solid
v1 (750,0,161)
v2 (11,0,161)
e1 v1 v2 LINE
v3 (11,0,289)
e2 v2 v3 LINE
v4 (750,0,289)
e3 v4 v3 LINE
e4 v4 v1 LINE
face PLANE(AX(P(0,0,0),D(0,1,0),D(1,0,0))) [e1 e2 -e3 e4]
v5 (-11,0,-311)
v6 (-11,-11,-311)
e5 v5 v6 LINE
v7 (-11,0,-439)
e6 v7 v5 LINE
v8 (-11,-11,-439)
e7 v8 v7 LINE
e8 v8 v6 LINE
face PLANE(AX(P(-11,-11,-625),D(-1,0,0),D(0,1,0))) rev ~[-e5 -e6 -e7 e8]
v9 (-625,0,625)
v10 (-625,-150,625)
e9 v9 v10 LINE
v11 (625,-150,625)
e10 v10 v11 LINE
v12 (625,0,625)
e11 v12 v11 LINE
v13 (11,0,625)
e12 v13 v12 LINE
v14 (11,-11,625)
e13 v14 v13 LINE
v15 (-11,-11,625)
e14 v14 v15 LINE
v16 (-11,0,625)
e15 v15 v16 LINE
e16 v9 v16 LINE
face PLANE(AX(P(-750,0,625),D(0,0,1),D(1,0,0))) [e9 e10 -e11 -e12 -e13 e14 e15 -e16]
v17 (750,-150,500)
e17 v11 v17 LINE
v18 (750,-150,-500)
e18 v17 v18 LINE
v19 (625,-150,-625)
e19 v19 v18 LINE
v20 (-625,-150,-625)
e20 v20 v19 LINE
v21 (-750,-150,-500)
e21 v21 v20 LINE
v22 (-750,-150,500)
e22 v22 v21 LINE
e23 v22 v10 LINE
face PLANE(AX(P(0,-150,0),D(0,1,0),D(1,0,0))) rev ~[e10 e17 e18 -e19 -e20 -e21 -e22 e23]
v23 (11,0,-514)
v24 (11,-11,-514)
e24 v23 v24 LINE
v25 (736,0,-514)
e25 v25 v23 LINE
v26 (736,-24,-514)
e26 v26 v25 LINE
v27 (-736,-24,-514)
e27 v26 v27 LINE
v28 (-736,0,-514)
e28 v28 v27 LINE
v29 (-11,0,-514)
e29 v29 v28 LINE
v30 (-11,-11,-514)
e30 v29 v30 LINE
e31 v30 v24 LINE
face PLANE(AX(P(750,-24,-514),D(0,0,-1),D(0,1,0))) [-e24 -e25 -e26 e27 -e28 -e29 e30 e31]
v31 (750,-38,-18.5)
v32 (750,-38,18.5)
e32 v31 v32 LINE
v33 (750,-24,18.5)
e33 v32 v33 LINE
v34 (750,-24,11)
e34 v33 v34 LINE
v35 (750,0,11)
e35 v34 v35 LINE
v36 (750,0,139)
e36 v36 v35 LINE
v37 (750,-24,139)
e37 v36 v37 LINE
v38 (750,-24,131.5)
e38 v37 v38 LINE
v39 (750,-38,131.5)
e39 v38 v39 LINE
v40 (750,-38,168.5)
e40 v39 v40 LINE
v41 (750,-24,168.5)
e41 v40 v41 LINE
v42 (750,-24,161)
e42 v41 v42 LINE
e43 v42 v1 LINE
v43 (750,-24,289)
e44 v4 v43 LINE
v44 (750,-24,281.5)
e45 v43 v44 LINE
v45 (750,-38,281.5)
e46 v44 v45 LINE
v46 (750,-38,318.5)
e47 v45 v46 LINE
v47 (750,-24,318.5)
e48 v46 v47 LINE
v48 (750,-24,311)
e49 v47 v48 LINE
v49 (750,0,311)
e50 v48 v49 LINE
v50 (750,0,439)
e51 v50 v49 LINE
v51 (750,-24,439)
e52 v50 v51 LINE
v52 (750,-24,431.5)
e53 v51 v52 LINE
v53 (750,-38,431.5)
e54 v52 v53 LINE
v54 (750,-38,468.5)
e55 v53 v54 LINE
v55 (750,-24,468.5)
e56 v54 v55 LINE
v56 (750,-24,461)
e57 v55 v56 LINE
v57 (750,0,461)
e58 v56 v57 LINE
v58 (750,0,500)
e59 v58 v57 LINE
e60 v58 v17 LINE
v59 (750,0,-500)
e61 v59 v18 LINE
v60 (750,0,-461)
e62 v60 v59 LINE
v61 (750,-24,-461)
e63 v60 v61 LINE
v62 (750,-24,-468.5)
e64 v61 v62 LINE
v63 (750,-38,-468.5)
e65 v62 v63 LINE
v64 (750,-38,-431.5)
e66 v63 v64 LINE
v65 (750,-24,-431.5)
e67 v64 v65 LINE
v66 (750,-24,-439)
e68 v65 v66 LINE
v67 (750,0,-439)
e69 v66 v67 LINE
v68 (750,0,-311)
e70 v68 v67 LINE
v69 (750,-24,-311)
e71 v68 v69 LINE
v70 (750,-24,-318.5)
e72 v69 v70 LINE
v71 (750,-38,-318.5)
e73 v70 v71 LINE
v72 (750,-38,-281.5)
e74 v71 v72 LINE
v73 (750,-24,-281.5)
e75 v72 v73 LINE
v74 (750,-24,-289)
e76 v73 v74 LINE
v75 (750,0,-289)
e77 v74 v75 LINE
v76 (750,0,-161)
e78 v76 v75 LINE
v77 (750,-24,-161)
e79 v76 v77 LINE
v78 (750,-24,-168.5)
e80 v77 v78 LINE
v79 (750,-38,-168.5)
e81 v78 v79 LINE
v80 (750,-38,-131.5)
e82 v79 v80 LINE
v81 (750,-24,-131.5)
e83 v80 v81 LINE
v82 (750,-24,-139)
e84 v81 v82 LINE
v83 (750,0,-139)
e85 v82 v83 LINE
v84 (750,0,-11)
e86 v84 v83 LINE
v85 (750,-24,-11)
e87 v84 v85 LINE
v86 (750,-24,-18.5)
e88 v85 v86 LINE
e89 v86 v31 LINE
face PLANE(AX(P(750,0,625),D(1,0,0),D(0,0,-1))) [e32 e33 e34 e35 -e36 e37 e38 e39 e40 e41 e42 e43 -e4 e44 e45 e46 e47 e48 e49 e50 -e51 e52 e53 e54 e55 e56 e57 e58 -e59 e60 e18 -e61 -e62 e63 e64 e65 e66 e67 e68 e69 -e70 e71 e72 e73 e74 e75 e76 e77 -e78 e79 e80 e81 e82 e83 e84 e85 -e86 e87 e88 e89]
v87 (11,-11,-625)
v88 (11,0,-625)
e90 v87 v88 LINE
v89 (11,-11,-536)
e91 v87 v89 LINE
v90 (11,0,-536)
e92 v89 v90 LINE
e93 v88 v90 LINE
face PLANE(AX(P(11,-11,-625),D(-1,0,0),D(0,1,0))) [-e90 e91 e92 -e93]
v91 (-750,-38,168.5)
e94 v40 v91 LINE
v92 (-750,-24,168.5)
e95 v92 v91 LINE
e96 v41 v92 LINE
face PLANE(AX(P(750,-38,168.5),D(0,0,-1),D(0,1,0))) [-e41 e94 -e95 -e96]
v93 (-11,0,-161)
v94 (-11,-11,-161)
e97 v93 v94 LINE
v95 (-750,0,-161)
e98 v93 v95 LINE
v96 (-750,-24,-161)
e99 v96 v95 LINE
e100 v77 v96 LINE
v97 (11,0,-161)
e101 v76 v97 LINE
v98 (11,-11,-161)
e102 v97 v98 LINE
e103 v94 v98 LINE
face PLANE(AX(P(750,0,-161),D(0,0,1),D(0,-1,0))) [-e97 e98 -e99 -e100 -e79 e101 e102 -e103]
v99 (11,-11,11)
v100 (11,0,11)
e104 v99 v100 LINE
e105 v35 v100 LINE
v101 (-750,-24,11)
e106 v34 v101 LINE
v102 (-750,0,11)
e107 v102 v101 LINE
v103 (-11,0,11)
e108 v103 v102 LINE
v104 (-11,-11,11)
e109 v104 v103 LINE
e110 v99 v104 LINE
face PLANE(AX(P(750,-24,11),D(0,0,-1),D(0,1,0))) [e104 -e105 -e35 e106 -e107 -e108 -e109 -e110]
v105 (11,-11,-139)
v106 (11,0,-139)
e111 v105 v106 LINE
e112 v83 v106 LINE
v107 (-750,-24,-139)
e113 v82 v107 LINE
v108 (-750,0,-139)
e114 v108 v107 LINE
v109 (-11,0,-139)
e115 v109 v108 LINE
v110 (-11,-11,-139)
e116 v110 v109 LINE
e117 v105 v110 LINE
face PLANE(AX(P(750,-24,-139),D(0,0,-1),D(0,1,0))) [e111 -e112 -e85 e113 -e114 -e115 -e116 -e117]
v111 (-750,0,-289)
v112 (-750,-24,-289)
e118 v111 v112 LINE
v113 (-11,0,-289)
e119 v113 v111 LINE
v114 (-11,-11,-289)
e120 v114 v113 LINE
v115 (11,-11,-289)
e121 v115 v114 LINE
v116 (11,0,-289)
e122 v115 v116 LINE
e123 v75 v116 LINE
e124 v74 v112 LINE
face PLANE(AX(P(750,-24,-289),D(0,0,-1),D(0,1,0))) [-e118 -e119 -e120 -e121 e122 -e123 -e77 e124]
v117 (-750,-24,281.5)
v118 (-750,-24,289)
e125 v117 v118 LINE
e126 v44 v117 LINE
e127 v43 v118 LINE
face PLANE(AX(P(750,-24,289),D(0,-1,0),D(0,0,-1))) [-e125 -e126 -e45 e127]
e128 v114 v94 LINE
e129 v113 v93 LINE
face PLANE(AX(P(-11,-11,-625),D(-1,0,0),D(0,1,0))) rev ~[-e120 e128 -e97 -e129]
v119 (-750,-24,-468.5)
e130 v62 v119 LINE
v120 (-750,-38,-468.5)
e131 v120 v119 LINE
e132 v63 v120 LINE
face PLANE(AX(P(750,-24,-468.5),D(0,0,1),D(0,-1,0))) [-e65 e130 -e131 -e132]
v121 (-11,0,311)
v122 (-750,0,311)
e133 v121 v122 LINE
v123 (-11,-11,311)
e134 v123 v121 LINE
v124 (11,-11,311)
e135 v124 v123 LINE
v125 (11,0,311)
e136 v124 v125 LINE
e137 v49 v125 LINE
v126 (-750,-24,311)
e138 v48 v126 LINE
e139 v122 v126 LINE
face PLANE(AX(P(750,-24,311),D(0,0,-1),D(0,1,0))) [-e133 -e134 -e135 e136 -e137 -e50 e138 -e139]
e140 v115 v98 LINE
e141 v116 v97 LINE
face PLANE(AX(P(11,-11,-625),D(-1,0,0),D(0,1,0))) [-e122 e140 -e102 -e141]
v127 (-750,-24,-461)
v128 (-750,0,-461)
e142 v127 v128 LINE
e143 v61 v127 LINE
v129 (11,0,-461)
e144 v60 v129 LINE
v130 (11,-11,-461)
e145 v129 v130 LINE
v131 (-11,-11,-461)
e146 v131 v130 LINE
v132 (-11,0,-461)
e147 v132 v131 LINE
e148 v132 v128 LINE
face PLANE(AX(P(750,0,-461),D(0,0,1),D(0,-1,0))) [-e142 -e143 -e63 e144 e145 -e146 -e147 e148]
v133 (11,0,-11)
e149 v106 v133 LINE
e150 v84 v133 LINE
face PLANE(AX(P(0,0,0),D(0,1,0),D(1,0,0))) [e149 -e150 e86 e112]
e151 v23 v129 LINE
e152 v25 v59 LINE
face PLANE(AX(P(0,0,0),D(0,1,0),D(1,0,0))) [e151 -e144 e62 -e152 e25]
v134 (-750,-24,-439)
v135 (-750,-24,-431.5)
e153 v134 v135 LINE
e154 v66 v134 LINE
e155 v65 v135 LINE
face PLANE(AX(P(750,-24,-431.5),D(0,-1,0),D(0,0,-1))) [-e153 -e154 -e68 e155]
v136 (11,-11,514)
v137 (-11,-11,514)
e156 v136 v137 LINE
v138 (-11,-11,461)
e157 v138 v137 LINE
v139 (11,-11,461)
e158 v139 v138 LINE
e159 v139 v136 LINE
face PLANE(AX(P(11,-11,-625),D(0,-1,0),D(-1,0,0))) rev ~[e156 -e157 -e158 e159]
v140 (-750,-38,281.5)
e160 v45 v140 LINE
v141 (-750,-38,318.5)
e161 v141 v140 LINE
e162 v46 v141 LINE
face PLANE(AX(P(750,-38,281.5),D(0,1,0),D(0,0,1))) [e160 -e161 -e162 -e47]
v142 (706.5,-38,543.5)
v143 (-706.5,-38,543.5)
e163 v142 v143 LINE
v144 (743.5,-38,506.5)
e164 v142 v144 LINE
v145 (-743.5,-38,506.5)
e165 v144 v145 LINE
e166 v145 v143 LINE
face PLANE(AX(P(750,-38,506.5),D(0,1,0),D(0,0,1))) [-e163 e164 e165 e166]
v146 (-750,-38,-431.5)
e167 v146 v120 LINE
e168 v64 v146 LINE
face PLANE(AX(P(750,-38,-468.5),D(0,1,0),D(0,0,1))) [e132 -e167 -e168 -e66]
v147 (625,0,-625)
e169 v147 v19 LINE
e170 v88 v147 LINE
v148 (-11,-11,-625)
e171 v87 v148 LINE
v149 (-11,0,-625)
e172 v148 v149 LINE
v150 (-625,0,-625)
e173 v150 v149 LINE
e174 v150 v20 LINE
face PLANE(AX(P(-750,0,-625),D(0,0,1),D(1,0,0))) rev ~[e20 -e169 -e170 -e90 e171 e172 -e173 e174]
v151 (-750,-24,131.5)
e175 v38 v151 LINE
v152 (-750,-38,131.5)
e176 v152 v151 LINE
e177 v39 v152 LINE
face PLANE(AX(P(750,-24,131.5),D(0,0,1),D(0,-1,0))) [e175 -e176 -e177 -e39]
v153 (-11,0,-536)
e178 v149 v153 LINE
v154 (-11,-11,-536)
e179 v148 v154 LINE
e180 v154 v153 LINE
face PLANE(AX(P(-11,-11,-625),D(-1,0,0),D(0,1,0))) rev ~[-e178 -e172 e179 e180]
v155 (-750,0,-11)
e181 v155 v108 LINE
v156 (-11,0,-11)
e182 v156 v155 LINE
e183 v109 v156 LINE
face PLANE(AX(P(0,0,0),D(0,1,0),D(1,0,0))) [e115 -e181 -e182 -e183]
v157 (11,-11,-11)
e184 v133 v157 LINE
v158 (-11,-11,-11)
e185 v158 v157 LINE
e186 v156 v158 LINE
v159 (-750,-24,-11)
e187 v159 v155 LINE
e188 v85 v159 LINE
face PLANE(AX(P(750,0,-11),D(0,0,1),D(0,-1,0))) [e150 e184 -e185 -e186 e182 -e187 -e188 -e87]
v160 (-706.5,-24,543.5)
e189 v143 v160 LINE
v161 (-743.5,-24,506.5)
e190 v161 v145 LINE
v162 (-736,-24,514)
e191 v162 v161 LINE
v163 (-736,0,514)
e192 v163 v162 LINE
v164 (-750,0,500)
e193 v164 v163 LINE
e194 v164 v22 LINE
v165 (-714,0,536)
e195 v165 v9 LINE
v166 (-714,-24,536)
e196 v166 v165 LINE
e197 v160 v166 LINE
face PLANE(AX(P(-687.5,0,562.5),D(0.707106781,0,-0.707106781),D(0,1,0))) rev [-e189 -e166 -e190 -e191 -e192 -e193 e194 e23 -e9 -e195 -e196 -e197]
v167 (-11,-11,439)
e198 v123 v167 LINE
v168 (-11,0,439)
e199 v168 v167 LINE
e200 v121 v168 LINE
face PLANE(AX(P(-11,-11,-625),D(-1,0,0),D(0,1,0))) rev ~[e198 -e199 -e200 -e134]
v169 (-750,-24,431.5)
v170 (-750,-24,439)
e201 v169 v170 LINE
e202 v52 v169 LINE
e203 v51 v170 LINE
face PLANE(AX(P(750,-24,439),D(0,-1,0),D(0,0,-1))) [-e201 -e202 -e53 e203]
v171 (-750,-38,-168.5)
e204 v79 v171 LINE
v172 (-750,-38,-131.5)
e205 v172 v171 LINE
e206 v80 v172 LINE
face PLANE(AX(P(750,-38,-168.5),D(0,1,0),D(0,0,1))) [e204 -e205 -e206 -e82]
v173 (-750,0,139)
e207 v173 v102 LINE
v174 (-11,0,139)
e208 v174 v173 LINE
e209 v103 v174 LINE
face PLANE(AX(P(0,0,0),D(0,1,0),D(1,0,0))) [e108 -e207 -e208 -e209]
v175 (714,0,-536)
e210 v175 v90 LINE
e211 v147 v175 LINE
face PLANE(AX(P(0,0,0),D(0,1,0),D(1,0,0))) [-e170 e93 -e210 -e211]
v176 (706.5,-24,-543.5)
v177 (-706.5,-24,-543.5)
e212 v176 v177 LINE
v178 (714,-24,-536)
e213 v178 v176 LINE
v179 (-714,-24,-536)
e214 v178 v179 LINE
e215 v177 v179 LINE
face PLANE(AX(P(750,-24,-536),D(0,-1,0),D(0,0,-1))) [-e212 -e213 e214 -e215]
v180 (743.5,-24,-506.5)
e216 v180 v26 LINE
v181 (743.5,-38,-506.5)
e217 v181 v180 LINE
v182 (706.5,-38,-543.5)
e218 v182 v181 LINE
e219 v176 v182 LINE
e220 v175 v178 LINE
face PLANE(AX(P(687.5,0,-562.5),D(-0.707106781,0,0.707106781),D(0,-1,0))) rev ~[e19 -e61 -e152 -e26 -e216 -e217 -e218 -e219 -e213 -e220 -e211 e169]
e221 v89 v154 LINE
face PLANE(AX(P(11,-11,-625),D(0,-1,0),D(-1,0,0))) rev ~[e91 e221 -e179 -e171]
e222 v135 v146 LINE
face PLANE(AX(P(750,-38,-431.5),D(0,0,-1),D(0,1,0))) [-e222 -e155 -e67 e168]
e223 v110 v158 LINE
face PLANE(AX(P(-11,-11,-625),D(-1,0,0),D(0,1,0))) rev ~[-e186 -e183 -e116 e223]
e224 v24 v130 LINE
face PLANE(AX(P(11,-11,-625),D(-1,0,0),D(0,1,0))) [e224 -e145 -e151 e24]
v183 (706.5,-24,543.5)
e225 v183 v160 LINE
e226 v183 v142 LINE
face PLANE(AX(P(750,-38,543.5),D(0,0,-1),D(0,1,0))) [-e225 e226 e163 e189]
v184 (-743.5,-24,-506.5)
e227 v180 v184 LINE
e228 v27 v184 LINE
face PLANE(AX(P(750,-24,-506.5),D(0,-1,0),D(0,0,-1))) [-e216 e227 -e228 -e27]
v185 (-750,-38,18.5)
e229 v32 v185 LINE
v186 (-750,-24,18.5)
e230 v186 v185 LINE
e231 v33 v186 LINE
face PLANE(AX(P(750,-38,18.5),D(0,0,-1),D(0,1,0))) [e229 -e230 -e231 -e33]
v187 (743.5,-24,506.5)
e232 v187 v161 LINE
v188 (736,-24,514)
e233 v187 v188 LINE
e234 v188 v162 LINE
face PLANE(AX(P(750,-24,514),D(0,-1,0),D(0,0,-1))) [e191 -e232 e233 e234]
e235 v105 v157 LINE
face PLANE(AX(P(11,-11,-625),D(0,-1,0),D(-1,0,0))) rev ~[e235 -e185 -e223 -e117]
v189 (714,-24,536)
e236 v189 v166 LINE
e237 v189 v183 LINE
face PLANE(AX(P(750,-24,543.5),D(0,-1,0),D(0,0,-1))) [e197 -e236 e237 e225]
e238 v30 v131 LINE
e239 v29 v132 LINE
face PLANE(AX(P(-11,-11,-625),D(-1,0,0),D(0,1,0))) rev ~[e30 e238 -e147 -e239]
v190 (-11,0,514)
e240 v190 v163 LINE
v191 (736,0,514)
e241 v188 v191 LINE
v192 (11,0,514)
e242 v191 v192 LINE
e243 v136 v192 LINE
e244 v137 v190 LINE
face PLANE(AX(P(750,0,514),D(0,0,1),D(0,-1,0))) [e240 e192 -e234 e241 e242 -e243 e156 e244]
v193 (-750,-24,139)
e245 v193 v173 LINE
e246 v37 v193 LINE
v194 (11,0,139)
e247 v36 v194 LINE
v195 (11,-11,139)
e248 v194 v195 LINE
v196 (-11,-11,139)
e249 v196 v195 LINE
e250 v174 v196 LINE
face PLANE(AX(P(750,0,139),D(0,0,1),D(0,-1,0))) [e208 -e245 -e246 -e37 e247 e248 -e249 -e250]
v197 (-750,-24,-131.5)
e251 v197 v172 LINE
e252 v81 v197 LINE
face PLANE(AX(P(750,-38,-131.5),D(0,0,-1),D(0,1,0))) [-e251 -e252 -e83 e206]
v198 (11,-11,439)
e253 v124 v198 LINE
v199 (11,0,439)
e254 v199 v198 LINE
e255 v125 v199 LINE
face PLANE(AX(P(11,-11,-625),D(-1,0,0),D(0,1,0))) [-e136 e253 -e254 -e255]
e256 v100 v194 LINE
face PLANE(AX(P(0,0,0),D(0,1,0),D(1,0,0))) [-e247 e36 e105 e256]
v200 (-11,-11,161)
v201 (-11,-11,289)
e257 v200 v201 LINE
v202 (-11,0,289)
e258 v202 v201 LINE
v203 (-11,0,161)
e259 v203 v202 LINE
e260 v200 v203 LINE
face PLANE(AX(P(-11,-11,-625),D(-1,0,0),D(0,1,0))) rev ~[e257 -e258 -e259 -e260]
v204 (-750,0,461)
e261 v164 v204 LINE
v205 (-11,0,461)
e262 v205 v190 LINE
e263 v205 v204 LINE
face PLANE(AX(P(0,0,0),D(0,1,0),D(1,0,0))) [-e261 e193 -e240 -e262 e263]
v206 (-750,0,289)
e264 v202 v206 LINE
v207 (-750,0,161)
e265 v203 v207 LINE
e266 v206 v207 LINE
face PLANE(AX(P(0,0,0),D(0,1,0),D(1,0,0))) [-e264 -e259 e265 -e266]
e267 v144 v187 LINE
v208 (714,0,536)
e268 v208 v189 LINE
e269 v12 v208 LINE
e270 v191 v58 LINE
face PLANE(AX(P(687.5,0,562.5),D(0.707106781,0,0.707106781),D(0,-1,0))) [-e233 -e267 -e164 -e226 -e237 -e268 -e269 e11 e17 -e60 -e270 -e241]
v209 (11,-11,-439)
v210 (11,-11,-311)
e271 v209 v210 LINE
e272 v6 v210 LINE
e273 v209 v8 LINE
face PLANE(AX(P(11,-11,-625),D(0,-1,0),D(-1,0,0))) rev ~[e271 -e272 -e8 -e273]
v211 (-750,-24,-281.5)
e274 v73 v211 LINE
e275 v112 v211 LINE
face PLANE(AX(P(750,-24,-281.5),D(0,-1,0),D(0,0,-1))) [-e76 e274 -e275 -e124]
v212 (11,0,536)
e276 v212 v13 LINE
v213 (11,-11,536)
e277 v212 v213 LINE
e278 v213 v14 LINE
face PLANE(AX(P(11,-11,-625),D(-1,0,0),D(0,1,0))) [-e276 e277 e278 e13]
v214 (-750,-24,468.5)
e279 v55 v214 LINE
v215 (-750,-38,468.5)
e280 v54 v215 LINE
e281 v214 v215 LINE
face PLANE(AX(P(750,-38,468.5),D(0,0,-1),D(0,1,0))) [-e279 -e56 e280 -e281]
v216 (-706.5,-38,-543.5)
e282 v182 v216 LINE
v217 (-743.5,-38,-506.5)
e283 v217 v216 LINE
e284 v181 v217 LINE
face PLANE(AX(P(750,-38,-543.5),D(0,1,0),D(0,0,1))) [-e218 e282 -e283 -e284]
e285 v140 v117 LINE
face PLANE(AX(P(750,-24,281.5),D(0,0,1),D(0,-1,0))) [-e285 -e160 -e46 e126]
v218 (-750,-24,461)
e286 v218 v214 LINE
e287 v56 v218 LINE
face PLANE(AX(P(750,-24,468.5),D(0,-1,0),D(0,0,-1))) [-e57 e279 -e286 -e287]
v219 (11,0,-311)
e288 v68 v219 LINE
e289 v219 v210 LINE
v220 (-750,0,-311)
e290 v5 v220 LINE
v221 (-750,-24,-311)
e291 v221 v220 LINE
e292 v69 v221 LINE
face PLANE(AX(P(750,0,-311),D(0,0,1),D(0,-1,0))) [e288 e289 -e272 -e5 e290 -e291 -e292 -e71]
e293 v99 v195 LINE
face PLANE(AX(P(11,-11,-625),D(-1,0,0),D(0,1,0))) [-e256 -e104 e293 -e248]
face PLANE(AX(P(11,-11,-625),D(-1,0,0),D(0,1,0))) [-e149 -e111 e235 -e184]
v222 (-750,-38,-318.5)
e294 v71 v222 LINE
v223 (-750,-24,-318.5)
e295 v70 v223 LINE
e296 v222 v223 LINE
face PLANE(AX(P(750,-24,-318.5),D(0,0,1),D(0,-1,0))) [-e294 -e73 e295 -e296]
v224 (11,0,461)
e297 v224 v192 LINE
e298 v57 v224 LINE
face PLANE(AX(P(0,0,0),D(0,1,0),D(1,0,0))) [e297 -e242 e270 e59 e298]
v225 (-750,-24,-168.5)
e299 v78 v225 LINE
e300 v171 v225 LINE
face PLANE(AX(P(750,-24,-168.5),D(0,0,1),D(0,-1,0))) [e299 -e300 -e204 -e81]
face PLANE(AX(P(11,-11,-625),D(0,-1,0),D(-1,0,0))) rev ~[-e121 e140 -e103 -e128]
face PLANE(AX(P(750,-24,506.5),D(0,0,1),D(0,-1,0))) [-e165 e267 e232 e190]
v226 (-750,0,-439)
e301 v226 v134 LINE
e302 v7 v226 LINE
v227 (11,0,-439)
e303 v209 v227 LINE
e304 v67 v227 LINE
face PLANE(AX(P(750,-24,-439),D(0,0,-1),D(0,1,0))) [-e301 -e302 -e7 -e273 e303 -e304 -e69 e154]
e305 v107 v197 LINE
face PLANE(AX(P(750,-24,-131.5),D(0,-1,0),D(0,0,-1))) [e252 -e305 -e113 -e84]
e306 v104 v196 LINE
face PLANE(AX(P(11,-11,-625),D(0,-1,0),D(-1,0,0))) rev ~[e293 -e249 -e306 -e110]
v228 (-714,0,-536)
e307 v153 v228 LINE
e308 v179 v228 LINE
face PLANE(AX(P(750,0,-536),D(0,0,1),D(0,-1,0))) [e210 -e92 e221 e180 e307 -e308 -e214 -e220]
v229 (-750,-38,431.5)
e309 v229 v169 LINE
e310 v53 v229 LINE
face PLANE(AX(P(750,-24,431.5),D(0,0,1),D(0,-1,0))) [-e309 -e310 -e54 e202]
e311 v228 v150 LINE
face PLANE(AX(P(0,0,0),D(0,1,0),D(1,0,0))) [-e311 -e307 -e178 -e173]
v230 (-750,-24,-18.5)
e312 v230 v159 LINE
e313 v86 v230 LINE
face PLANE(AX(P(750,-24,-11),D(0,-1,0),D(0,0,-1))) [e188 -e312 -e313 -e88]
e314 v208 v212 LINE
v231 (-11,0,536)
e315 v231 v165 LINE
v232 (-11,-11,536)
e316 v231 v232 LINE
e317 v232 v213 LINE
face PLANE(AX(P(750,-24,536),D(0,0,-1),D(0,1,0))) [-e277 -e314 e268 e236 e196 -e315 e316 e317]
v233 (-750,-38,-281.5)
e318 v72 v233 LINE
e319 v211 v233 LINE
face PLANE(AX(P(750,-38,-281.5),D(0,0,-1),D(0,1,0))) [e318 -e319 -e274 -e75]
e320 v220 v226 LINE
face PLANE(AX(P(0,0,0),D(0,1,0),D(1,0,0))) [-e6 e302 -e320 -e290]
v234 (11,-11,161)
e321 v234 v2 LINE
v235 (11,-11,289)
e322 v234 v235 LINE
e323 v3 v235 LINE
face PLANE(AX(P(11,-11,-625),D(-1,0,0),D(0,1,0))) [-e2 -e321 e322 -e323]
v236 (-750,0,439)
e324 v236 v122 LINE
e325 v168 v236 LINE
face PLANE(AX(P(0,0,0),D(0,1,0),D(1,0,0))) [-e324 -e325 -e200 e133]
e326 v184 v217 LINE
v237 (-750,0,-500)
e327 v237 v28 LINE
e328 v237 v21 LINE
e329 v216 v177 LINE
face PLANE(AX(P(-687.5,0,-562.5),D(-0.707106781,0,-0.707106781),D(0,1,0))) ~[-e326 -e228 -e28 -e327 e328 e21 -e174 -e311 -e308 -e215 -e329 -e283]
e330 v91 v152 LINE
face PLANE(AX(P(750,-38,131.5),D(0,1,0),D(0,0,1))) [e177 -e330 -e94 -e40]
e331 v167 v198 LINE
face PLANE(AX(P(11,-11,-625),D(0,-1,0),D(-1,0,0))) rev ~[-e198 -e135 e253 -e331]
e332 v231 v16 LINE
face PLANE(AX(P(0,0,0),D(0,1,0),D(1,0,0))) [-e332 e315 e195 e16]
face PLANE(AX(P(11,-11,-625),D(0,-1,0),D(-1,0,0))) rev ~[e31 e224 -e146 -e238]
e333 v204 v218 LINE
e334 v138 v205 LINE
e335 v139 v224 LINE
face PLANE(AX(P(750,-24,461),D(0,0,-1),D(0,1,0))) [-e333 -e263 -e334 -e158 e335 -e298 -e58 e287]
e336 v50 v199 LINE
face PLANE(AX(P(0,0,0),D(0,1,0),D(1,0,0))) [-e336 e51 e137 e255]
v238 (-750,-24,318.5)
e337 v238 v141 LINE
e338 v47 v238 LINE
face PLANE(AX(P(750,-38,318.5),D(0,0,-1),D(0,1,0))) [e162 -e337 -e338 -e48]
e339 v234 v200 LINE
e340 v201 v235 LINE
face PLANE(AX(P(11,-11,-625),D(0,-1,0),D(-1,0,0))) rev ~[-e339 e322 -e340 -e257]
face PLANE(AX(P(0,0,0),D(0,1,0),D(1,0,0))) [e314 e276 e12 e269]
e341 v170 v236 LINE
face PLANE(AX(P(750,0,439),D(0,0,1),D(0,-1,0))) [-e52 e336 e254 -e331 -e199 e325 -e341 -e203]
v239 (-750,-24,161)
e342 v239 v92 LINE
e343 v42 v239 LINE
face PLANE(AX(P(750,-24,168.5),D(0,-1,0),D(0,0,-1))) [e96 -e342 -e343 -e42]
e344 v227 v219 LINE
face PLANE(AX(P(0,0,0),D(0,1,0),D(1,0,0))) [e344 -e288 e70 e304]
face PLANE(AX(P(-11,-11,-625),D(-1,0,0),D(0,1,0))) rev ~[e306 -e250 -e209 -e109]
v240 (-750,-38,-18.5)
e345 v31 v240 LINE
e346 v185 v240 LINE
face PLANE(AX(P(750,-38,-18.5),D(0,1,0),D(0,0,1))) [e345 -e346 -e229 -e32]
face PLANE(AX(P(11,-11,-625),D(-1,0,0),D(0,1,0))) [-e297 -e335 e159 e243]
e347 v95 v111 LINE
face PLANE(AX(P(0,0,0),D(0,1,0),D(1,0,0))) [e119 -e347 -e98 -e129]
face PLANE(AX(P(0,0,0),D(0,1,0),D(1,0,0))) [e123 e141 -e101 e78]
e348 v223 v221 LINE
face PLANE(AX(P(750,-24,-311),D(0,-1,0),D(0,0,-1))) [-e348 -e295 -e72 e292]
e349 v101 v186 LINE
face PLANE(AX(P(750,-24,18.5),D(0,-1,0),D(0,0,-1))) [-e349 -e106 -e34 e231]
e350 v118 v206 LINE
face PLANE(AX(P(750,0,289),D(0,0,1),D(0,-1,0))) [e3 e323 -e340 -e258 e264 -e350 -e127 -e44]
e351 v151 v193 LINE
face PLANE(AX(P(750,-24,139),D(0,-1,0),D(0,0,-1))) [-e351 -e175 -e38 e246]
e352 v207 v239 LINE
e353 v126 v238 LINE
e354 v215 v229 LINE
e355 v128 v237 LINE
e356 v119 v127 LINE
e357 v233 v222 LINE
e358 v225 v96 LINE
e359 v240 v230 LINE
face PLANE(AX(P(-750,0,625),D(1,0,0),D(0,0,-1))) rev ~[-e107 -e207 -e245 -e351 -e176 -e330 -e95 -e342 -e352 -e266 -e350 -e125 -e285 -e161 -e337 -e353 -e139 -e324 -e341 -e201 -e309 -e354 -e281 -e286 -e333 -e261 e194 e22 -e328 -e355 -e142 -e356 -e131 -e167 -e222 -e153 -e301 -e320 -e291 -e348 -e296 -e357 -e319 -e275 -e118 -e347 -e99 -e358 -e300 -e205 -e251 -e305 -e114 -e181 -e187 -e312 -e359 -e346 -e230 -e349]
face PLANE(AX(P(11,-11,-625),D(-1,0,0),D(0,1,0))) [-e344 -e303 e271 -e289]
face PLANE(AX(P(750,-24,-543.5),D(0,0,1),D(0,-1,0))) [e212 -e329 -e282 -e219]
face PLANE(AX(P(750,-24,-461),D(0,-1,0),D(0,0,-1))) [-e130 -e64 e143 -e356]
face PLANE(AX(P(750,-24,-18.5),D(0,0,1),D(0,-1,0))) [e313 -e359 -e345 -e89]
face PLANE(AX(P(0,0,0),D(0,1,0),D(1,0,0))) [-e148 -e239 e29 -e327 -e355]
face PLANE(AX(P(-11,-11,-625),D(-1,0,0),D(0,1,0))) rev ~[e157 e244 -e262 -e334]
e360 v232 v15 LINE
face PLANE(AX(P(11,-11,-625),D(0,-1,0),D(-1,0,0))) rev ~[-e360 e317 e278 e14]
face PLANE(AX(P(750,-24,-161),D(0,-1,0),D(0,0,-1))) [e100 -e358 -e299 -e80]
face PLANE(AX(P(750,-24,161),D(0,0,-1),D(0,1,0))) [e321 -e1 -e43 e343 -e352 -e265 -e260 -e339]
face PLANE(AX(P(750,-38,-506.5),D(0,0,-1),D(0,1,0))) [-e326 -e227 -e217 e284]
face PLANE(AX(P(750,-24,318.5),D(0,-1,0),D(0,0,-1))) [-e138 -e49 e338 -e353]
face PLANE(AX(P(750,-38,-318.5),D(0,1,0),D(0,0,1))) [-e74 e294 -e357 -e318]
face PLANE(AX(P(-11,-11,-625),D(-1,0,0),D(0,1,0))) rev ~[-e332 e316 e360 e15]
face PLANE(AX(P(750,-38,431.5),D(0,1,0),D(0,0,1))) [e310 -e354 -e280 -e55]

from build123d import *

# Parameters (mm, degrees)
SKETCH1_W           = 1500
SKETCH1_H           = 1250
BOSS_EXTRUDE1_DEPTH = 150
CUT_EXTRUDE1_REACH  = 1633.908
LPATTERN1_COUNT     = 4
LPATTERN1_PITCH     = 150
LPATTERN1_COL_COUNT = 4
LPATTERN1_COL_PITCH = 150
CUT_EXTRUDE2_REACH  = 1467.435
SKETCH3_W           = 22
SKETCH3_H           = 11
LPATTERN2_COUNT     = 2
LPATTERN2_PITCH     = 525
LPATTERN2_COL_COUNT = 2
LPATTERN2_COL_PITCH = 525
CHAMFER1_SIZE       = 125


with BuildPart() as part:
    # Sketch1 → Boss-Extrude1 (new body)
    with BuildSketch(Plane(origin=(0, 0, 0), x_dir=(1, 0, 0), z_dir=(0, 1, 0))):
        Rectangle(SKETCH1_W, SKETCH1_H)
    extrude(amount=-BOSS_EXTRUDE1_DEPTH)

    # Sketch2 → Cut-Extrude1 (cut, up to next)
    with BuildSketch(Plane(origin=(750, 0, 0), x_dir=(0, 0, -1), z_dir=(1, 0, 0)), mode=Mode.PRIVATE) as cut_extrude1_sk1:
        Polygon((-11, 0), (11, 0), (11, -24), (18.5, -24), (18.5, -38), (-18.5, -38), (-18.5, -24), (-11, -24), align=None)
    cut_extrude1_tool1 = extrude(cut_extrude1_sk1.sketch, amount=-CUT_EXTRUDE1_REACH, mode=Mode.PRIVATE) & part.part
    cut_extrude1 = cut_extrude1_tool1.solids().sort_by_distance((750, -21.409178, 0))[0]
    add(cut_extrude1, mode=Mode.SUBTRACT)

    # LPattern1: Cut-Extrude1 ×4
    with Locations(*[(0, 0, -i * LPATTERN1_PITCH) for i in range(1, LPATTERN1_COUNT)]):
        add(cut_extrude1, mode=Mode.SUBTRACT)

    # LPattern1 col: Cut-Extrude1 ×4
    with Locations(*[(0, 0, i * LPATTERN1_COL_PITCH) for i in range(1, LPATTERN1_COL_COUNT)]):
        add(cut_extrude1, mode=Mode.SUBTRACT)

    # Cut-Extrude2: up to this face of the body (flat: up to its plane)
    cut_extrude2_end = Plane(part.part.faces().sort_by_distance((0, -75, 625))[0])
    # Sketch3 → Cut-Extrude2 (cut, up to the picked face)
    with BuildSketch(Plane(origin=(0, 0, -625), x_dir=(-1, 0, 0), z_dir=(0, 0, -1)), mode=Mode.PRIVATE) as cut_extrude2_sk1:
        with Locations((0, -5.5)):
            Rectangle(SKETCH3_W, SKETCH3_H)
    cut_extrude2_tool1 = split(extrude(cut_extrude2_sk1.sketch, amount=-CUT_EXTRUDE2_REACH, mode=Mode.PRIVATE), bisect_by=cut_extrude2_end, keep=Keep.BOTH, mode=Mode.PRIVATE)
    add(cut_extrude2_tool1.solids().sort_by(Axis((0, -5.5, -625), (0, 0, 1)))[0], mode=Mode.SUBTRACT)

    # LPattern2: Cut-Extrude1 ×2
    with Locations(*[(0, 0, -i * LPATTERN2_PITCH) for i in range(1, LPATTERN2_COUNT)]):
        add(cut_extrude1, mode=Mode.SUBTRACT)

    # LPattern2 col: Cut-Extrude1 ×2
    with Locations(*[(0, 0, i * LPATTERN2_COL_PITCH) for i in range(1, LPATTERN2_COL_COUNT)]):
        add(cut_extrude1, mode=Mode.SUBTRACT)

    # Chamfer1
    chamfer1_edges = [part.edges().sort_by_distance(p)[0] for p in [
        (-750, -75, 625),
        (-750, -75, -625),
        (750, -75, -625),
        (750, -75, 625),
    ]]
    chamfer(chamfer1_edges, length=CHAMFER1_SIZE)


solid = part.part
